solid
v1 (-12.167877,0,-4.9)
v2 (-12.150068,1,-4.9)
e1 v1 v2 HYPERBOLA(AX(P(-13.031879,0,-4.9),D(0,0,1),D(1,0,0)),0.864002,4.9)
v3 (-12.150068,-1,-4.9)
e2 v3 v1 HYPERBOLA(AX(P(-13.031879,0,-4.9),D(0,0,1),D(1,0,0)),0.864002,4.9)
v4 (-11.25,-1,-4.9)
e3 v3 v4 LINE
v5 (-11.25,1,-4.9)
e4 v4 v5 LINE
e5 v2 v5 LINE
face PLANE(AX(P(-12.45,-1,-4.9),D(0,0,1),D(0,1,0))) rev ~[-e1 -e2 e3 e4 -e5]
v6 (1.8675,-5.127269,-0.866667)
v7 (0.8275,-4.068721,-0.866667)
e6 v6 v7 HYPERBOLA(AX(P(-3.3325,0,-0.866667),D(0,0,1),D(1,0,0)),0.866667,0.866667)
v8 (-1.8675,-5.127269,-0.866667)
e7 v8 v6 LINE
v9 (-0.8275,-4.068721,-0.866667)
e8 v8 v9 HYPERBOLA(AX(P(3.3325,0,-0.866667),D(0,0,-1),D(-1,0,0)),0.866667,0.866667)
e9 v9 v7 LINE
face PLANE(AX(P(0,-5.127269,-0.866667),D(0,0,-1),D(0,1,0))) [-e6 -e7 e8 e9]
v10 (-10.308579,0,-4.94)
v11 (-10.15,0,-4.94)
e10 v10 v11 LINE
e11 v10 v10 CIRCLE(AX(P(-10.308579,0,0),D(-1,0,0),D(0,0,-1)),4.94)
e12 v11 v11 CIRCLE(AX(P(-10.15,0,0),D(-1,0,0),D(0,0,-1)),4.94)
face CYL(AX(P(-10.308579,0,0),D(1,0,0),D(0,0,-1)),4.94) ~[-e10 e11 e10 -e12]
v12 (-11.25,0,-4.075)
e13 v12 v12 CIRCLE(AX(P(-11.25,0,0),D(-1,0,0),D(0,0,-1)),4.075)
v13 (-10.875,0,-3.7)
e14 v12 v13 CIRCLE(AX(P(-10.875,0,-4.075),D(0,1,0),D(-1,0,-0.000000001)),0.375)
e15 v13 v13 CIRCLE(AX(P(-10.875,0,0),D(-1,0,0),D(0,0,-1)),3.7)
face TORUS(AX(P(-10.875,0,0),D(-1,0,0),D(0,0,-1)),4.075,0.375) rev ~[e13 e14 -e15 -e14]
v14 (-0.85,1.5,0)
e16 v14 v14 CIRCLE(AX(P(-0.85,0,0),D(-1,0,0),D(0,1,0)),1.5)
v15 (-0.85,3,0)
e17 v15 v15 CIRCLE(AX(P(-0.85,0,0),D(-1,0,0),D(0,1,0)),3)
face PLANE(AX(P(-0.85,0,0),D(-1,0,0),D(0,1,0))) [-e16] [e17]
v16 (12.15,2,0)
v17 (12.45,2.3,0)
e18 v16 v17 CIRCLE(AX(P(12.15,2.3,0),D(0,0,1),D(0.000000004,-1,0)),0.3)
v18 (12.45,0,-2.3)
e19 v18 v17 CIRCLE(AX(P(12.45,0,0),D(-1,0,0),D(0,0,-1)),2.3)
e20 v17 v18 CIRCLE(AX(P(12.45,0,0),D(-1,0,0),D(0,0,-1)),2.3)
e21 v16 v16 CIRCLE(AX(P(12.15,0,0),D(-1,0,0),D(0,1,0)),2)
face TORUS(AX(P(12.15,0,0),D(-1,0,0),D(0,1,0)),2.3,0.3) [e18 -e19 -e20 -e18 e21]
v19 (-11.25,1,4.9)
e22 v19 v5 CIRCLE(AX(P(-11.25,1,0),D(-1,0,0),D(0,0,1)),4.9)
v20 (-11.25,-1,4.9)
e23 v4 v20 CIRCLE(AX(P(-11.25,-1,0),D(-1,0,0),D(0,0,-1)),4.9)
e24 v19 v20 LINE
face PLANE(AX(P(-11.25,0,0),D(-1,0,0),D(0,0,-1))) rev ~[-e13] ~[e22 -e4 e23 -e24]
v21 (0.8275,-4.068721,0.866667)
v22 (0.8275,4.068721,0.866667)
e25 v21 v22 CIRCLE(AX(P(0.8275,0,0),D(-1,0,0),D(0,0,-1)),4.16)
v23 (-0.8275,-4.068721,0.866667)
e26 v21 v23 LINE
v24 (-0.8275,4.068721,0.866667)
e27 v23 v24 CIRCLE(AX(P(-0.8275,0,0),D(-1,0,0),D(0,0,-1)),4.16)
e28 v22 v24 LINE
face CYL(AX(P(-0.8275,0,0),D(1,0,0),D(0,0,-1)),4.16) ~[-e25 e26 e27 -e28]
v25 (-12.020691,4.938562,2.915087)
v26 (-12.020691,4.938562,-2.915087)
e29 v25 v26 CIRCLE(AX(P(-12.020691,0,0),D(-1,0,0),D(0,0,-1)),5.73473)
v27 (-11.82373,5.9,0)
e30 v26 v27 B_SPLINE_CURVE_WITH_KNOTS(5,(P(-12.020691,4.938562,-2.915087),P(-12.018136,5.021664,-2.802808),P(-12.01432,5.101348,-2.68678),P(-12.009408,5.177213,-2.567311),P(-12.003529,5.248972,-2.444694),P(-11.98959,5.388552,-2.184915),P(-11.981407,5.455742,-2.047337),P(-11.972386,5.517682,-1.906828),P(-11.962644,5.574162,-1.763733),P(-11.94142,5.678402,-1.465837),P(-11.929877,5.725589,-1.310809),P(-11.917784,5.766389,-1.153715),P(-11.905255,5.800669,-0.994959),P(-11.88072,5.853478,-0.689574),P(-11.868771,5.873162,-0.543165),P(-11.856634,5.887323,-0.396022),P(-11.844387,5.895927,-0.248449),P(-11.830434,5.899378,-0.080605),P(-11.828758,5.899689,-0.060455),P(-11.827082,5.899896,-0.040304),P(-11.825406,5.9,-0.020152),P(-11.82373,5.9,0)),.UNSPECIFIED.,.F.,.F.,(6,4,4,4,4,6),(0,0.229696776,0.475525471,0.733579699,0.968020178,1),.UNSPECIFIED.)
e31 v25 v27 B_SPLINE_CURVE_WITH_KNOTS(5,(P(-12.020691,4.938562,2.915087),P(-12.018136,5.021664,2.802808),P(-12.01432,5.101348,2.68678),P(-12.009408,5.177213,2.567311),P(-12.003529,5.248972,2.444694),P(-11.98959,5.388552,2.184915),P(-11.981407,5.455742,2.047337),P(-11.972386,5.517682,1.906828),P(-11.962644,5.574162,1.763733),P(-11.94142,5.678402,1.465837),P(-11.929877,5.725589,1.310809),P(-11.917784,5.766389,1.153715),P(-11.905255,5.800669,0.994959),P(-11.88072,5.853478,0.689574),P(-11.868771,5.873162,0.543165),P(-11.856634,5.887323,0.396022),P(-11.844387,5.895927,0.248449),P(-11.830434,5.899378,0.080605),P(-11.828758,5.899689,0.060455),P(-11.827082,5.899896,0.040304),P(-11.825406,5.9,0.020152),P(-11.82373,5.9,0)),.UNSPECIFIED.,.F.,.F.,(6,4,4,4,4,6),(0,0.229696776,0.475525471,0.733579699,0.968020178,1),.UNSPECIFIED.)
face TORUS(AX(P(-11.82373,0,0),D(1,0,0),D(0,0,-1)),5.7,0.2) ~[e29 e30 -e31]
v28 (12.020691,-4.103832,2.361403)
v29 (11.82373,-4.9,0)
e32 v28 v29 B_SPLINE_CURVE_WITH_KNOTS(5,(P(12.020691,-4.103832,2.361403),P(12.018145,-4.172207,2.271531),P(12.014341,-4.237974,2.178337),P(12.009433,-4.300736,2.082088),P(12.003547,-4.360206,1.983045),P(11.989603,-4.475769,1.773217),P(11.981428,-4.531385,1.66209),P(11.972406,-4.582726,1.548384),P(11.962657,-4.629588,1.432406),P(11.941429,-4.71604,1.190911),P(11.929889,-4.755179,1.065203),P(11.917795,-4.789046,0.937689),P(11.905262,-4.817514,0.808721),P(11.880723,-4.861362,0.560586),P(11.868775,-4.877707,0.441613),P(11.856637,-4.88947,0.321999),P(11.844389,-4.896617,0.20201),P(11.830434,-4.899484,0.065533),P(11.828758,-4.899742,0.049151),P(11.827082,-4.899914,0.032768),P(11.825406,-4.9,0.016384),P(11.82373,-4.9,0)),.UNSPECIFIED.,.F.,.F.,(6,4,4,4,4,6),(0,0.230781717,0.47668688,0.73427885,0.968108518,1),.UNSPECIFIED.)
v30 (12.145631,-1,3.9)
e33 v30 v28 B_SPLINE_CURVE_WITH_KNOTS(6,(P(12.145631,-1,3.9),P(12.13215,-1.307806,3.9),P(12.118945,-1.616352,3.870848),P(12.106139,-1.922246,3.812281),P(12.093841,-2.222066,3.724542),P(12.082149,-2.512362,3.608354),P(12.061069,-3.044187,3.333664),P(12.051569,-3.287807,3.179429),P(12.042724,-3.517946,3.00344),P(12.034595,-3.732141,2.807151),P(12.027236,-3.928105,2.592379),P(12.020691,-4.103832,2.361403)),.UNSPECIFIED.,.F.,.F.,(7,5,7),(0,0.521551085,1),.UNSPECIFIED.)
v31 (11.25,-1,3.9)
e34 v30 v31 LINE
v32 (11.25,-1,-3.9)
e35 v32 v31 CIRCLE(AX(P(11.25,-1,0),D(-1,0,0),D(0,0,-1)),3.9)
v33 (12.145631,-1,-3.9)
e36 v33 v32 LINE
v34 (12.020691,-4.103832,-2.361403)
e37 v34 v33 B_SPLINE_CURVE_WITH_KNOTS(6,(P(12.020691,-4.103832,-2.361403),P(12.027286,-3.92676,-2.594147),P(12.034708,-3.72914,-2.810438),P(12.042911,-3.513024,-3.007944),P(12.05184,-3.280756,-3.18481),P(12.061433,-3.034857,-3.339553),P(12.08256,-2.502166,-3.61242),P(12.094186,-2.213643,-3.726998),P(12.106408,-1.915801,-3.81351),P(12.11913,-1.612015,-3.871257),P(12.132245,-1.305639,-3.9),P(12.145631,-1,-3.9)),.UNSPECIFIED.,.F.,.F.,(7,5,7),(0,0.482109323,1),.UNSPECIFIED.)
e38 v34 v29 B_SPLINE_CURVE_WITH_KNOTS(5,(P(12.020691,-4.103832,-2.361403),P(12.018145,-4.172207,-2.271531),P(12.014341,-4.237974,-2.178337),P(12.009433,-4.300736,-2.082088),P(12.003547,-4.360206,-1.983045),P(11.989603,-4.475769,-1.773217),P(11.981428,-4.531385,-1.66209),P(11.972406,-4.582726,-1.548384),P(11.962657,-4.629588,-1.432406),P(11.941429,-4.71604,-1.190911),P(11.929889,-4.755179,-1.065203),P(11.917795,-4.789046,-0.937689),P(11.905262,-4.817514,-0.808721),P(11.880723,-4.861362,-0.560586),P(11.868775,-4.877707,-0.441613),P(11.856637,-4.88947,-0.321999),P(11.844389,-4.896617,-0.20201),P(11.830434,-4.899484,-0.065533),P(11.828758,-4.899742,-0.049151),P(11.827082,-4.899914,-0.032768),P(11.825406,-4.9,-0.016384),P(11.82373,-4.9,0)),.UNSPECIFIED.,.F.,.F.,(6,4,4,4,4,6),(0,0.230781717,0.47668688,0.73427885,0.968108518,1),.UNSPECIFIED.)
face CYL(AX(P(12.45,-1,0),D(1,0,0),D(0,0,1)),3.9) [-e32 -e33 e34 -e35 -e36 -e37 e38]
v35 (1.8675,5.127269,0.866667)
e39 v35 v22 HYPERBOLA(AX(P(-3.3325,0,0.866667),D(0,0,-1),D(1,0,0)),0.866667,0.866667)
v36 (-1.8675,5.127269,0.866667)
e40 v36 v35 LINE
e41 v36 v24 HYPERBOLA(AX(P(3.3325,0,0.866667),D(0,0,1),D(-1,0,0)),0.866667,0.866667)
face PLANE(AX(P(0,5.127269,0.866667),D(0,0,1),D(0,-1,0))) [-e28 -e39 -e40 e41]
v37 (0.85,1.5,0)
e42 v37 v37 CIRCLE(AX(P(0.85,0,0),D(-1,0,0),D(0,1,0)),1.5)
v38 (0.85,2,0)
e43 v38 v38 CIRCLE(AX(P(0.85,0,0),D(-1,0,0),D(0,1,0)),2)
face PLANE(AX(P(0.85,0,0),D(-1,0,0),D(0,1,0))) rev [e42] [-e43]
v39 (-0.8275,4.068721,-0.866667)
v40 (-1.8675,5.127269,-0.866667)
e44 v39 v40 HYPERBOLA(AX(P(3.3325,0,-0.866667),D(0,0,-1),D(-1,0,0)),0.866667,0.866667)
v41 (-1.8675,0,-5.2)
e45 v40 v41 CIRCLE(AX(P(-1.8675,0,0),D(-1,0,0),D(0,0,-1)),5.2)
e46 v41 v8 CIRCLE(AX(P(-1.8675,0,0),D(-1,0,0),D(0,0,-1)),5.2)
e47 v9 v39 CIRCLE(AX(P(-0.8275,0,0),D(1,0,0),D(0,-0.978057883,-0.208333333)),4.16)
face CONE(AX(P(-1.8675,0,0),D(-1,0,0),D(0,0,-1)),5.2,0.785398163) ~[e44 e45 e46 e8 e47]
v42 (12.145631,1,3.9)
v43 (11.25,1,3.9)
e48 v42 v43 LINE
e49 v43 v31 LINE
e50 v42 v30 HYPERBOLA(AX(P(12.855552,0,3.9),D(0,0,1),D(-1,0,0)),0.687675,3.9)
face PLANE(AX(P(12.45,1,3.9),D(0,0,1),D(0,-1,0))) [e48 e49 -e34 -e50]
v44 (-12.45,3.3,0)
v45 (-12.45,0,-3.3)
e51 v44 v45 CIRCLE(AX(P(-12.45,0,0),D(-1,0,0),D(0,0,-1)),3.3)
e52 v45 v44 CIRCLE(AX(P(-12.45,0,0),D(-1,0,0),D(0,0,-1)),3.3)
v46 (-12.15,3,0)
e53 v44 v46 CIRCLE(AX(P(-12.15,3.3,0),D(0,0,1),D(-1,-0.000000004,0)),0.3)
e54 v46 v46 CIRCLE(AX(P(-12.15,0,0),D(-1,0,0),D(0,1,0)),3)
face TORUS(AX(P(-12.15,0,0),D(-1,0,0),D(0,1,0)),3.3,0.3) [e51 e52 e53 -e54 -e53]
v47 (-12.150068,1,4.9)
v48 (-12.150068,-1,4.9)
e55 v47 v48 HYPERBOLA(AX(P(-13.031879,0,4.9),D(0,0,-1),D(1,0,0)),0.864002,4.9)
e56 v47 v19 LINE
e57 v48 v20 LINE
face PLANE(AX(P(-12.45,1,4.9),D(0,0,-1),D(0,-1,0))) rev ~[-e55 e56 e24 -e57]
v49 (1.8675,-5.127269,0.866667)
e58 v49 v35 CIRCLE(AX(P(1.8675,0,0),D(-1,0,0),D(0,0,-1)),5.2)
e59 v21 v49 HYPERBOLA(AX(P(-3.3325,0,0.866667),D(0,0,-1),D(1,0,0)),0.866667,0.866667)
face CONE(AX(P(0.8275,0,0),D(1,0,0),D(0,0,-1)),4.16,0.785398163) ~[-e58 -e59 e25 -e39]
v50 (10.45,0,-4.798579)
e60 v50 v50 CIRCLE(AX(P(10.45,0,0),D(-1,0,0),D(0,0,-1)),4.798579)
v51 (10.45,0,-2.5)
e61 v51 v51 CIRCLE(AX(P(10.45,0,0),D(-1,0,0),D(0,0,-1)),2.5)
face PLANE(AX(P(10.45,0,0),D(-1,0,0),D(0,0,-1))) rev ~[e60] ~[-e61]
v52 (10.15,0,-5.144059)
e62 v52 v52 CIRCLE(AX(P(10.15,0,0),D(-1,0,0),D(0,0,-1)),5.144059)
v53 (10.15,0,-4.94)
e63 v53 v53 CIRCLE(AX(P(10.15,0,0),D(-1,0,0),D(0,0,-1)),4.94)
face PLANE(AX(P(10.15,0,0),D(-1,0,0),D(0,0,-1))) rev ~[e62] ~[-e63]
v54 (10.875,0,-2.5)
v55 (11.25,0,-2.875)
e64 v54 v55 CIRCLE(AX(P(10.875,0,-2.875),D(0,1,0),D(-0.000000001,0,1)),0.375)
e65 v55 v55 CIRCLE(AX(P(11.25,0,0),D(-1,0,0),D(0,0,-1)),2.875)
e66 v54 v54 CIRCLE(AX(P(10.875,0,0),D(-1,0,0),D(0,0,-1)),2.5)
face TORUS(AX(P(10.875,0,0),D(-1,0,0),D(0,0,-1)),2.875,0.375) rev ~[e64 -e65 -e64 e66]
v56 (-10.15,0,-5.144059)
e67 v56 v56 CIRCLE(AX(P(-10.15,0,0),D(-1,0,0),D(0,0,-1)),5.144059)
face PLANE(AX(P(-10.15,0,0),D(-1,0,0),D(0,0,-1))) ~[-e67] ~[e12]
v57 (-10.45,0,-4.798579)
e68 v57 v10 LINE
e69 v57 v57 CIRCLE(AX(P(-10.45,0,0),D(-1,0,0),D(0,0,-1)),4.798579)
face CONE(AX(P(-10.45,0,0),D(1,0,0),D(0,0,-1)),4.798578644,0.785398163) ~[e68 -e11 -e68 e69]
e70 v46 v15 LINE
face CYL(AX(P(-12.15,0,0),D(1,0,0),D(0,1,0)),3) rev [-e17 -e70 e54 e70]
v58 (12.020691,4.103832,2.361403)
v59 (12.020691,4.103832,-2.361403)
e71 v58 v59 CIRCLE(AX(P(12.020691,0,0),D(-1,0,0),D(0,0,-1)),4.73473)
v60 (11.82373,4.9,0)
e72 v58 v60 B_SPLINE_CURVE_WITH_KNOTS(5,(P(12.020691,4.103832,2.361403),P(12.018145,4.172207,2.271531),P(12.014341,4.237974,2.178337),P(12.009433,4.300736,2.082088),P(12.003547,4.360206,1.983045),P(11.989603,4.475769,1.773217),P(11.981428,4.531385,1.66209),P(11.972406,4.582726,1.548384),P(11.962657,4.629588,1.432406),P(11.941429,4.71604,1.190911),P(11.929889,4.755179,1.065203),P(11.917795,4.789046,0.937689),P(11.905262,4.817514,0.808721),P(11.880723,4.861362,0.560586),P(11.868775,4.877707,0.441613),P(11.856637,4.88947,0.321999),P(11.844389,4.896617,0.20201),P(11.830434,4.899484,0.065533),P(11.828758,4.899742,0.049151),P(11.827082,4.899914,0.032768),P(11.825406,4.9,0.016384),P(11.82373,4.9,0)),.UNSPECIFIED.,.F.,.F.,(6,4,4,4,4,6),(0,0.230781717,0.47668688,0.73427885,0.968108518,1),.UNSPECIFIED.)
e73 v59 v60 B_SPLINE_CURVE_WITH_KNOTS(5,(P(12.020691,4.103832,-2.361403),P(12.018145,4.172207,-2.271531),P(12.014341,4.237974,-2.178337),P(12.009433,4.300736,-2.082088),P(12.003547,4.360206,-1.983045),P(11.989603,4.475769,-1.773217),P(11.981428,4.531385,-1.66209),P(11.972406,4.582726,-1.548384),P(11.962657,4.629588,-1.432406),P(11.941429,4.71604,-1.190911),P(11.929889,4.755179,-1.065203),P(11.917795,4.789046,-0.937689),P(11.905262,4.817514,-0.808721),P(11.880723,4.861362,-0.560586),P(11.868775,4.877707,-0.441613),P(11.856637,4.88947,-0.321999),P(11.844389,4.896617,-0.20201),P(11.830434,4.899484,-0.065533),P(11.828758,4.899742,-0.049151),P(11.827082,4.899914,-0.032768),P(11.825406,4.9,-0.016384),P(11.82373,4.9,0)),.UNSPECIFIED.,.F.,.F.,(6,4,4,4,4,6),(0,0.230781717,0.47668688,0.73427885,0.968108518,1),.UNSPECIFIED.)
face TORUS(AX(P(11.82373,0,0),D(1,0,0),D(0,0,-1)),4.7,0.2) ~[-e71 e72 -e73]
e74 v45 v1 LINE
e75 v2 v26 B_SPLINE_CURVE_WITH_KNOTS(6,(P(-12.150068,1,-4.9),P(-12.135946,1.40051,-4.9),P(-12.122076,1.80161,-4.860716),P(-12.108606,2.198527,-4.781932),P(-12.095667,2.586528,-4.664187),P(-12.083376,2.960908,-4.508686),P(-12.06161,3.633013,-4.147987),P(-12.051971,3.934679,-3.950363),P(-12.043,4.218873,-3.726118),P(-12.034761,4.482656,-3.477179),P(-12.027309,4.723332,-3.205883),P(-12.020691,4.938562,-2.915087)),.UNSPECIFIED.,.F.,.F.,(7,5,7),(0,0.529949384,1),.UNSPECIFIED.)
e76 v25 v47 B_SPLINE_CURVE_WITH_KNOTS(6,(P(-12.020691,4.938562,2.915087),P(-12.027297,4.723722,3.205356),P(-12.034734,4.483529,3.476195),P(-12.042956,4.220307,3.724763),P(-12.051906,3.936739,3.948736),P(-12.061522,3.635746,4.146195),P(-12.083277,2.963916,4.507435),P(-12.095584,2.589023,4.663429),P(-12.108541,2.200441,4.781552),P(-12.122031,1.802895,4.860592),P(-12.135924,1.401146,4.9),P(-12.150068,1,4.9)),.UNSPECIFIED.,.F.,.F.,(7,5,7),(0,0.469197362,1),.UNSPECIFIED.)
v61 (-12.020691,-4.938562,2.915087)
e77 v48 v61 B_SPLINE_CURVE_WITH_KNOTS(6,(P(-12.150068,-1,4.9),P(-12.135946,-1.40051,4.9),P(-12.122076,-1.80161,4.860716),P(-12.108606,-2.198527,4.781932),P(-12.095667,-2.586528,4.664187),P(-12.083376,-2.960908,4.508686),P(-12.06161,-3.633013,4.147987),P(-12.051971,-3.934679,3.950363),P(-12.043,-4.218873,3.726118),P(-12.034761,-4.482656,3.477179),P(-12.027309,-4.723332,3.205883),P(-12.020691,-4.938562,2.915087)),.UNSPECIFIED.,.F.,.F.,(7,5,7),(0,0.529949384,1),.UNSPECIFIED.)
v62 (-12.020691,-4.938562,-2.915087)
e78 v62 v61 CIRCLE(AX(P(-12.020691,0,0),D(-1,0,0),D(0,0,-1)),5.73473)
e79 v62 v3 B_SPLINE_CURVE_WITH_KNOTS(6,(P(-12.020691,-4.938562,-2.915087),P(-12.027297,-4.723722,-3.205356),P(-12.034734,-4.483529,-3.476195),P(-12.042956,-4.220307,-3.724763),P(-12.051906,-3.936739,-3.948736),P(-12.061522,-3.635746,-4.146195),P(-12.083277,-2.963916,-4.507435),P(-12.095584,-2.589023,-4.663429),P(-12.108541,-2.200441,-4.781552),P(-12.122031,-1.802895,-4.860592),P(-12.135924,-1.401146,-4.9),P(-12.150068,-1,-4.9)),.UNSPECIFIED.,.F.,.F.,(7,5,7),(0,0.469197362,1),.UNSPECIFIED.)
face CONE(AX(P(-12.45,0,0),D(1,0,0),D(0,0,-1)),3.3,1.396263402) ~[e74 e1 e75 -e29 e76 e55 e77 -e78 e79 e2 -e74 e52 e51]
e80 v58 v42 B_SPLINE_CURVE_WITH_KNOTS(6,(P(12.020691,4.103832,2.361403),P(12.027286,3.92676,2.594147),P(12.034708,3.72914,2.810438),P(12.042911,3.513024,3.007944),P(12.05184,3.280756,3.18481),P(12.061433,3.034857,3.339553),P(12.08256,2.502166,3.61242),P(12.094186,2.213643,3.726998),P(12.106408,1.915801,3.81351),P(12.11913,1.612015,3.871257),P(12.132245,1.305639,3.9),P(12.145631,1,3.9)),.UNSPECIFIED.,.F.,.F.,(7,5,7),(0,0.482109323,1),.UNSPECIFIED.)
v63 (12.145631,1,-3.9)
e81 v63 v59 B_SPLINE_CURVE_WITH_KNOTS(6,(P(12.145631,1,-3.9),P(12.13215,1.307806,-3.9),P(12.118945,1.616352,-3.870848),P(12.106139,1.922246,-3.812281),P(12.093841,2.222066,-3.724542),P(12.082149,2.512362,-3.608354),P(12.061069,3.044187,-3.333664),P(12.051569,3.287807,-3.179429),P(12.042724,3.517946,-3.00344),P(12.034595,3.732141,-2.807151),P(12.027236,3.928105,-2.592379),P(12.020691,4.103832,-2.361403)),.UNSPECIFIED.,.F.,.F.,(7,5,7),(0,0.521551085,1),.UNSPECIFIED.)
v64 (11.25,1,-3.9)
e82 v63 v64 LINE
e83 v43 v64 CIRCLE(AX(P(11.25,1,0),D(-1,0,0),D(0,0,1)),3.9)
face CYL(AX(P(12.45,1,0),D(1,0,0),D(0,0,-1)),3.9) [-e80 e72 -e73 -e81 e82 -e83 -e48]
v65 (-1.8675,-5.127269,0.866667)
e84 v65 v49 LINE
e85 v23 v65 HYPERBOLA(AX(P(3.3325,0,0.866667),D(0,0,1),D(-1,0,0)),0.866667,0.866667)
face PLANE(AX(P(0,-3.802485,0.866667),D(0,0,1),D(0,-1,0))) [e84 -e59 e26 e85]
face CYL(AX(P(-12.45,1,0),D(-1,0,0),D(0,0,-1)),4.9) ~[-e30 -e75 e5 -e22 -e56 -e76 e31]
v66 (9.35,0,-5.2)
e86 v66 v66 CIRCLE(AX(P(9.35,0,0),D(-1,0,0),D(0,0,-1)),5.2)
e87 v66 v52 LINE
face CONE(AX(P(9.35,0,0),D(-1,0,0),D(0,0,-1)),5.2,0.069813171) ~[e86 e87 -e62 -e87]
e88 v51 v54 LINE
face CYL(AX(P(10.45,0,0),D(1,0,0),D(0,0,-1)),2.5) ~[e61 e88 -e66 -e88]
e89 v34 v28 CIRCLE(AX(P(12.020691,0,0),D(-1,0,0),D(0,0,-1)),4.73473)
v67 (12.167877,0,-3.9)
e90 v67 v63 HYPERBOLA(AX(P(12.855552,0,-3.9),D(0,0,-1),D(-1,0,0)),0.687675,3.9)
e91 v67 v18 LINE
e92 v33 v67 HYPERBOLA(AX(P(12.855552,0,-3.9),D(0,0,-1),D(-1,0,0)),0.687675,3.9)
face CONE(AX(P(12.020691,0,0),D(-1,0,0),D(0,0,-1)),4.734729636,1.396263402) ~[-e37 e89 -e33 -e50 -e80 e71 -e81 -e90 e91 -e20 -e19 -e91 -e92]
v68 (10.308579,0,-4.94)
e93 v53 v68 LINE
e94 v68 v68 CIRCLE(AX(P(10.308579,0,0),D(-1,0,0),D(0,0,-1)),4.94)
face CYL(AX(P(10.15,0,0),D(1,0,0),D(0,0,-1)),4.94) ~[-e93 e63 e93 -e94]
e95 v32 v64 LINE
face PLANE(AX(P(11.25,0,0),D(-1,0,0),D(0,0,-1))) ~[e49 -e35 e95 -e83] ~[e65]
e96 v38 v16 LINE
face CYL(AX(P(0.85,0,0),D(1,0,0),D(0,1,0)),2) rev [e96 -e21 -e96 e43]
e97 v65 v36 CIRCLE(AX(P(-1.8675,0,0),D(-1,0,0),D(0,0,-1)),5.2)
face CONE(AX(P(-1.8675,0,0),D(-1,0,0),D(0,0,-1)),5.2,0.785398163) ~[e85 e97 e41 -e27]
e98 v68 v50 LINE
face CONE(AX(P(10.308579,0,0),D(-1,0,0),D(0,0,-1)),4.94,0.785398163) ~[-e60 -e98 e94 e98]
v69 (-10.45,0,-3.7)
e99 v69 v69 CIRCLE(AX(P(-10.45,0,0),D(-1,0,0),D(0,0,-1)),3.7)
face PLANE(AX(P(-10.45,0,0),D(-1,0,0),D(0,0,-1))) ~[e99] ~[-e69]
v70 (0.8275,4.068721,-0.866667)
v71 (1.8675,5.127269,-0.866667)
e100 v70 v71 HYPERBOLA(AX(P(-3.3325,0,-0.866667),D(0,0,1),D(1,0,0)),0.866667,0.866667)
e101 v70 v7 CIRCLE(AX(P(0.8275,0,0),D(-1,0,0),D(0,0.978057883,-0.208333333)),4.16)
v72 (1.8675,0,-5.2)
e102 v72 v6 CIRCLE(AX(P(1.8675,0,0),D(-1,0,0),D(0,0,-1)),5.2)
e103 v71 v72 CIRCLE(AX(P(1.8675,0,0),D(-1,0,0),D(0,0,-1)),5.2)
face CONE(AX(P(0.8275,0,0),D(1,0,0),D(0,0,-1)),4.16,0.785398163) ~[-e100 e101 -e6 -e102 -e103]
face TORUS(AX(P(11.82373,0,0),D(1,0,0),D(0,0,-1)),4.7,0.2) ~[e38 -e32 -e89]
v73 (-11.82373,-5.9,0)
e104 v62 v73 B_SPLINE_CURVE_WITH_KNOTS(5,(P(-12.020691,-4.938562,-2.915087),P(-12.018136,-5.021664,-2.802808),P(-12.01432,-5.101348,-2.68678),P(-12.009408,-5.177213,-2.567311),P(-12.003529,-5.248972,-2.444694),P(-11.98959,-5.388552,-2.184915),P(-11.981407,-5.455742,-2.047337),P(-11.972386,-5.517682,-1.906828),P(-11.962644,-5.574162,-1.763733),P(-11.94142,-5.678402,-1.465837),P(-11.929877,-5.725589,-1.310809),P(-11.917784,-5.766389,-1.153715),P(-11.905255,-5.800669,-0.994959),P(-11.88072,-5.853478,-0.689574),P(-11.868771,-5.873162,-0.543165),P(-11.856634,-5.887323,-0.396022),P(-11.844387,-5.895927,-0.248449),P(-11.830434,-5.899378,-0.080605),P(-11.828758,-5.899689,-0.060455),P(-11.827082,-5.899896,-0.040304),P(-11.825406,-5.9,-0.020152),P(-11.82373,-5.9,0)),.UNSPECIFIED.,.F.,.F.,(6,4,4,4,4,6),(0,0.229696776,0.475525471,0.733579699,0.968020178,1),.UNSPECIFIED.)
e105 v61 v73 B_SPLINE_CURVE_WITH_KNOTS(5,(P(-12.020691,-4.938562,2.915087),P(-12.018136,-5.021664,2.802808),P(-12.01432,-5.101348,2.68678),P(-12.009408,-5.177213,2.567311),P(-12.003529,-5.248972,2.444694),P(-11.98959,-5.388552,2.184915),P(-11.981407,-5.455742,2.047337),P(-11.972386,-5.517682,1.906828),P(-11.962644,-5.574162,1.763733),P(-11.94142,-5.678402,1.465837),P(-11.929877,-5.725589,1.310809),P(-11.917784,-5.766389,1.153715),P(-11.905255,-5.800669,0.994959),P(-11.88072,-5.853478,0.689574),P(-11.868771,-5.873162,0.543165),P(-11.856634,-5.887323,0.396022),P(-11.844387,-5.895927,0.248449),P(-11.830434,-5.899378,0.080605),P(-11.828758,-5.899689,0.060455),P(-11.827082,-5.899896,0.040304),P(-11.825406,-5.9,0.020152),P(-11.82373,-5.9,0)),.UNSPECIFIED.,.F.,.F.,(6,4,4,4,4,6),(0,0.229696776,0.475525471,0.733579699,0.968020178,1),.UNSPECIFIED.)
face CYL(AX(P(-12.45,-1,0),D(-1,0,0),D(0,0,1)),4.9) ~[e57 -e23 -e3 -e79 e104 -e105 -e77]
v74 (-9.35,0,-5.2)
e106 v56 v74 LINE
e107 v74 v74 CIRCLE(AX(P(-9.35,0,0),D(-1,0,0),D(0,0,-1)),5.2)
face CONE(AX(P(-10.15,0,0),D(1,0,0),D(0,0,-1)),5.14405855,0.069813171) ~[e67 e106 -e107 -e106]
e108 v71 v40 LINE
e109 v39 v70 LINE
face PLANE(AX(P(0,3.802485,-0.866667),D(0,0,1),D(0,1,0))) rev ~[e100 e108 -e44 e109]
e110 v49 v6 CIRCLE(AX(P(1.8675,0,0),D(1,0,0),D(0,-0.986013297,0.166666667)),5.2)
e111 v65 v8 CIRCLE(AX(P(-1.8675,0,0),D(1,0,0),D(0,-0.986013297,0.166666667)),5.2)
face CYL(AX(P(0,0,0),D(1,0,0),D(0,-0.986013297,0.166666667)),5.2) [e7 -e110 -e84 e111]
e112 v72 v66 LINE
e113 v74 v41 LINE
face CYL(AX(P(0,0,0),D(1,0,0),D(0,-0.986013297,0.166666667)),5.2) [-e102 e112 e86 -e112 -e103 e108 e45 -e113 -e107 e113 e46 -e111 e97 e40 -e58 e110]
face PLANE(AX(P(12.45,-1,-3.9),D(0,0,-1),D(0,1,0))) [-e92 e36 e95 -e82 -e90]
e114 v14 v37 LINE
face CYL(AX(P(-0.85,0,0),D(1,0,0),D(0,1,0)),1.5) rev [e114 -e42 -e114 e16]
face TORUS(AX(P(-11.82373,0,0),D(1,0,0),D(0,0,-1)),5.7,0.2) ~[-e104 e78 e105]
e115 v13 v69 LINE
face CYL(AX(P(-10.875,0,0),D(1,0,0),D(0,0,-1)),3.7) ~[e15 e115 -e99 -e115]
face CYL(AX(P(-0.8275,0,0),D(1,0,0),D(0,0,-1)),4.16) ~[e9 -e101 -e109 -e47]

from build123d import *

# Parameters (mm, degrees)
SKIZZE2_W                            = 14.16
SKIZZE2_H                            = 14.16
SCHNITT_LINEAR_AUSTRAGEN1_DEPTH      = 1.2
SKIZZE3_W                            = 14.16
SKIZZE3_H                            = 14.16
SCHNITT_LINEAR_AUSTRAGEN2_DEPTH      = 1.2
AUFSATZ_LINEAR_AUSTRAGEN1_DEPTH      = 1.8675
AUFSATZ_LINEAR_AUSTRAGEN1_DEPTH_BACK = 1.8675
SKIZZE4_R                            = 3.12


with BuildPart() as part:
    # Skizze1 → Rotation1 (revolve)
    with BuildSketch(Plane(origin=(0, 0, 0), x_dir=(1, 0, 0), z_dir=(0, 1, 0))):
        with BuildLine():
            Line((-12.45, 0), (-12.45, 3.3))
            Line((-12.45, 3.3), (-12.020691475, 5.734729636))
            ThreePointArc((-12.020691475, 5.734729636), (-11.952287446, 5.853208889), (-11.823729924, 5.9))
            Line((-11.823729924, 5.9), (-11.25, 5.9))
            Line((-11.25, 5.9), (-11.25, 4.075))
            ThreePointArc((-11.25, 4.075), (-11.140165043, 3.809834957), (-10.875, 3.7))
            Line((-10.875, 3.7), (-10.45, 3.7))
            Line((-10.45, 3.7), (-10.45, 4.798578644))
            Line((-10.45, 4.798578644), (-10.308578644, 4.94))
            Line((-10.308578644, 4.94), (-10.15, 4.94))
            Line((-10.15, 4.94), (-10.15, 5.14405855))
            Line((-10.15, 5.14405855), (-9.35, 5.2))
            Line((-9.35, 5.2), (-1.8675, 5.2))
            Line((-1.8675, 5.2), (-0.8275, 4.16))
            Line((-0.8275, 4.16), (0.8275, 4.16))
            Line((0.8275, 4.16), (1.8675, 5.2))
            Line((1.8675, 5.2), (9.35, 5.2))
            Line((9.35, 5.2), (10.15, 5.14405855))
            Line((10.15, 5.14405855), (10.15, 4.94))
            Line((10.15, 4.94), (10.308578644, 4.94))
            Line((10.308578644, 4.94), (10.45, 4.798578644))
            Line((10.45, 4.798578644), (10.45, 2.5))
            Line((10.45, 2.5), (10.875, 2.5))
            ThreePointArc((10.875, 2.5), (11.140165043, 2.609834957), (11.25, 2.875))
            Line((11.25, 2.875), (11.25, 4.9))
            Line((11.25, 4.9), (11.823729924, 4.9))
            ThreePointArc((11.823729924, 4.9), (11.952287446, 4.853208889), (12.020691475, 4.734729636))
            Line((12.020691475, 4.734729636), (12.45, 2.3))
            Line((12.45, 2.3), (12.45, 0))
            Line((12.45, 0), (-12.45, 0))
        make_face()
    revolve(axis=Axis((12.45, 0, 0), (-1, 0, 0)))

    # Skizze2 → Schnitt-Linear austragen1 (cut)
    with BuildSketch(Plane(origin=(12.45, 0, 0), x_dir=(0, 0, -1), z_dir=(1, 0, 0))):
        Rectangle(SKIZZE2_W, SKIZZE2_H)
        with BuildLine():
            Line((3.9, -1), (3.9, 1))
            ThreePointArc((3.9, 1), (0, 4.9), (-3.9, 1))
            Line((-3.9, 1), (-3.9, -1))
            ThreePointArc((-3.9, -1), (0, -4.9), (3.9, -1))
        make_face(mode=Mode.SUBTRACT)
    extrude(amount=-SCHNITT_LINEAR_AUSTRAGEN1_DEPTH, mode=Mode.SUBTRACT)

    # Skizze3 → Schnitt-Linear austragen2 (cut)
    with BuildSketch(Plane(origin=(-12.45, 0, 0), x_dir=(0, 0, -1), z_dir=(1, 0, 0))):
        Rectangle(SKIZZE3_W, SKIZZE3_H)
        with BuildLine():
            Line((4.9, -1), (4.9, 1))
            ThreePointArc((4.9, 1), (0, 5.9), (-4.9, 1))
            Line((-4.9, 1), (-4.9, -1))
            ThreePointArc((-4.9, -1), (0, -5.9), (4.9, -1))
        make_face(mode=Mode.SUBTRACT)
    extrude(amount=SCHNITT_LINEAR_AUSTRAGEN2_DEPTH, mode=Mode.SUBTRACT)

    # Skizze4 → Aufsatz-Linear austragen1 (add, two sides: drawn at the far end of the back side and taken through both)
    with BuildSketch(Plane(origin=(0, 0, 0), x_dir=(0, 0, -1), z_dir=(1, 0, 0)).offset(-AUFSATZ_LINEAR_AUSTRAGEN1_DEPTH_BACK)):
        with BuildLine():
            Line((-0.866666667, -3.802484568), (-0.866666667, -5.127269145))
            ThreePointArc((-0.866666667, -5.127269145), (0, -5.2), (0.866666667, -5.127269145))
            Line((0.866666667, -5.127269145), (0.866666667, -3.802484568))
            ThreePointArc((0.866666667, -3.802484568), (3.9, 0), (0.866666667, 3.802484568))
            Line((0.866666667, 3.802484568), (0.866666667, 5.127269145))
            ThreePointArc((0.866666667, 5.127269145), (0, 5.2), (-0.866666667, 5.127269145))
            Line((-0.866666667, 5.127269145), (-0.866666667, 3.802484568))
            ThreePointArc((-0.866666667, 3.802484568), (-3.9, 0), (-0.866666667, -3.802484568))
        make_face()
        Circle(SKIZZE4_R, mode=Mode.SUBTRACT)
    extrude(amount=AUFSATZ_LINEAR_AUSTRAGEN1_DEPTH + AUFSATZ_LINEAR_AUSTRAGEN1_DEPTH_BACK)

    # Skizze5 → Schnitt-Rotation1 (revolve, cut)
    with BuildSketch(Plane.XY):
        with BuildLine():
            Line((-12.45, 0), (-12.45, 3.3))
            ThreePointArc((-12.45, 3.3), (-12.362132034, 3.087867966), (-12.15, 3))
            Line((-12.15, 3), (-0.85, 3))
            Line((-0.85, 3), (-0.85, 1.5))
            Line((-0.85, 1.5), (0.85, 1.5))
            Line((0.85, 1.5), (0.85, 2))
            Line((0.85, 2), (12.15, 2))
            ThreePointArc((12.15, 2), (12.362132034, 2.087867966), (12.45, 2.3))
            Line((12.45, 2.3), (12.45, 0))
            Line((12.45, 0), (-12.45, 0))
        make_face()
    revolve(axis=Axis((12.45, 0, 0), (-1, 0, 0)), mode=Mode.SUBTRACT)


solid = part.part
